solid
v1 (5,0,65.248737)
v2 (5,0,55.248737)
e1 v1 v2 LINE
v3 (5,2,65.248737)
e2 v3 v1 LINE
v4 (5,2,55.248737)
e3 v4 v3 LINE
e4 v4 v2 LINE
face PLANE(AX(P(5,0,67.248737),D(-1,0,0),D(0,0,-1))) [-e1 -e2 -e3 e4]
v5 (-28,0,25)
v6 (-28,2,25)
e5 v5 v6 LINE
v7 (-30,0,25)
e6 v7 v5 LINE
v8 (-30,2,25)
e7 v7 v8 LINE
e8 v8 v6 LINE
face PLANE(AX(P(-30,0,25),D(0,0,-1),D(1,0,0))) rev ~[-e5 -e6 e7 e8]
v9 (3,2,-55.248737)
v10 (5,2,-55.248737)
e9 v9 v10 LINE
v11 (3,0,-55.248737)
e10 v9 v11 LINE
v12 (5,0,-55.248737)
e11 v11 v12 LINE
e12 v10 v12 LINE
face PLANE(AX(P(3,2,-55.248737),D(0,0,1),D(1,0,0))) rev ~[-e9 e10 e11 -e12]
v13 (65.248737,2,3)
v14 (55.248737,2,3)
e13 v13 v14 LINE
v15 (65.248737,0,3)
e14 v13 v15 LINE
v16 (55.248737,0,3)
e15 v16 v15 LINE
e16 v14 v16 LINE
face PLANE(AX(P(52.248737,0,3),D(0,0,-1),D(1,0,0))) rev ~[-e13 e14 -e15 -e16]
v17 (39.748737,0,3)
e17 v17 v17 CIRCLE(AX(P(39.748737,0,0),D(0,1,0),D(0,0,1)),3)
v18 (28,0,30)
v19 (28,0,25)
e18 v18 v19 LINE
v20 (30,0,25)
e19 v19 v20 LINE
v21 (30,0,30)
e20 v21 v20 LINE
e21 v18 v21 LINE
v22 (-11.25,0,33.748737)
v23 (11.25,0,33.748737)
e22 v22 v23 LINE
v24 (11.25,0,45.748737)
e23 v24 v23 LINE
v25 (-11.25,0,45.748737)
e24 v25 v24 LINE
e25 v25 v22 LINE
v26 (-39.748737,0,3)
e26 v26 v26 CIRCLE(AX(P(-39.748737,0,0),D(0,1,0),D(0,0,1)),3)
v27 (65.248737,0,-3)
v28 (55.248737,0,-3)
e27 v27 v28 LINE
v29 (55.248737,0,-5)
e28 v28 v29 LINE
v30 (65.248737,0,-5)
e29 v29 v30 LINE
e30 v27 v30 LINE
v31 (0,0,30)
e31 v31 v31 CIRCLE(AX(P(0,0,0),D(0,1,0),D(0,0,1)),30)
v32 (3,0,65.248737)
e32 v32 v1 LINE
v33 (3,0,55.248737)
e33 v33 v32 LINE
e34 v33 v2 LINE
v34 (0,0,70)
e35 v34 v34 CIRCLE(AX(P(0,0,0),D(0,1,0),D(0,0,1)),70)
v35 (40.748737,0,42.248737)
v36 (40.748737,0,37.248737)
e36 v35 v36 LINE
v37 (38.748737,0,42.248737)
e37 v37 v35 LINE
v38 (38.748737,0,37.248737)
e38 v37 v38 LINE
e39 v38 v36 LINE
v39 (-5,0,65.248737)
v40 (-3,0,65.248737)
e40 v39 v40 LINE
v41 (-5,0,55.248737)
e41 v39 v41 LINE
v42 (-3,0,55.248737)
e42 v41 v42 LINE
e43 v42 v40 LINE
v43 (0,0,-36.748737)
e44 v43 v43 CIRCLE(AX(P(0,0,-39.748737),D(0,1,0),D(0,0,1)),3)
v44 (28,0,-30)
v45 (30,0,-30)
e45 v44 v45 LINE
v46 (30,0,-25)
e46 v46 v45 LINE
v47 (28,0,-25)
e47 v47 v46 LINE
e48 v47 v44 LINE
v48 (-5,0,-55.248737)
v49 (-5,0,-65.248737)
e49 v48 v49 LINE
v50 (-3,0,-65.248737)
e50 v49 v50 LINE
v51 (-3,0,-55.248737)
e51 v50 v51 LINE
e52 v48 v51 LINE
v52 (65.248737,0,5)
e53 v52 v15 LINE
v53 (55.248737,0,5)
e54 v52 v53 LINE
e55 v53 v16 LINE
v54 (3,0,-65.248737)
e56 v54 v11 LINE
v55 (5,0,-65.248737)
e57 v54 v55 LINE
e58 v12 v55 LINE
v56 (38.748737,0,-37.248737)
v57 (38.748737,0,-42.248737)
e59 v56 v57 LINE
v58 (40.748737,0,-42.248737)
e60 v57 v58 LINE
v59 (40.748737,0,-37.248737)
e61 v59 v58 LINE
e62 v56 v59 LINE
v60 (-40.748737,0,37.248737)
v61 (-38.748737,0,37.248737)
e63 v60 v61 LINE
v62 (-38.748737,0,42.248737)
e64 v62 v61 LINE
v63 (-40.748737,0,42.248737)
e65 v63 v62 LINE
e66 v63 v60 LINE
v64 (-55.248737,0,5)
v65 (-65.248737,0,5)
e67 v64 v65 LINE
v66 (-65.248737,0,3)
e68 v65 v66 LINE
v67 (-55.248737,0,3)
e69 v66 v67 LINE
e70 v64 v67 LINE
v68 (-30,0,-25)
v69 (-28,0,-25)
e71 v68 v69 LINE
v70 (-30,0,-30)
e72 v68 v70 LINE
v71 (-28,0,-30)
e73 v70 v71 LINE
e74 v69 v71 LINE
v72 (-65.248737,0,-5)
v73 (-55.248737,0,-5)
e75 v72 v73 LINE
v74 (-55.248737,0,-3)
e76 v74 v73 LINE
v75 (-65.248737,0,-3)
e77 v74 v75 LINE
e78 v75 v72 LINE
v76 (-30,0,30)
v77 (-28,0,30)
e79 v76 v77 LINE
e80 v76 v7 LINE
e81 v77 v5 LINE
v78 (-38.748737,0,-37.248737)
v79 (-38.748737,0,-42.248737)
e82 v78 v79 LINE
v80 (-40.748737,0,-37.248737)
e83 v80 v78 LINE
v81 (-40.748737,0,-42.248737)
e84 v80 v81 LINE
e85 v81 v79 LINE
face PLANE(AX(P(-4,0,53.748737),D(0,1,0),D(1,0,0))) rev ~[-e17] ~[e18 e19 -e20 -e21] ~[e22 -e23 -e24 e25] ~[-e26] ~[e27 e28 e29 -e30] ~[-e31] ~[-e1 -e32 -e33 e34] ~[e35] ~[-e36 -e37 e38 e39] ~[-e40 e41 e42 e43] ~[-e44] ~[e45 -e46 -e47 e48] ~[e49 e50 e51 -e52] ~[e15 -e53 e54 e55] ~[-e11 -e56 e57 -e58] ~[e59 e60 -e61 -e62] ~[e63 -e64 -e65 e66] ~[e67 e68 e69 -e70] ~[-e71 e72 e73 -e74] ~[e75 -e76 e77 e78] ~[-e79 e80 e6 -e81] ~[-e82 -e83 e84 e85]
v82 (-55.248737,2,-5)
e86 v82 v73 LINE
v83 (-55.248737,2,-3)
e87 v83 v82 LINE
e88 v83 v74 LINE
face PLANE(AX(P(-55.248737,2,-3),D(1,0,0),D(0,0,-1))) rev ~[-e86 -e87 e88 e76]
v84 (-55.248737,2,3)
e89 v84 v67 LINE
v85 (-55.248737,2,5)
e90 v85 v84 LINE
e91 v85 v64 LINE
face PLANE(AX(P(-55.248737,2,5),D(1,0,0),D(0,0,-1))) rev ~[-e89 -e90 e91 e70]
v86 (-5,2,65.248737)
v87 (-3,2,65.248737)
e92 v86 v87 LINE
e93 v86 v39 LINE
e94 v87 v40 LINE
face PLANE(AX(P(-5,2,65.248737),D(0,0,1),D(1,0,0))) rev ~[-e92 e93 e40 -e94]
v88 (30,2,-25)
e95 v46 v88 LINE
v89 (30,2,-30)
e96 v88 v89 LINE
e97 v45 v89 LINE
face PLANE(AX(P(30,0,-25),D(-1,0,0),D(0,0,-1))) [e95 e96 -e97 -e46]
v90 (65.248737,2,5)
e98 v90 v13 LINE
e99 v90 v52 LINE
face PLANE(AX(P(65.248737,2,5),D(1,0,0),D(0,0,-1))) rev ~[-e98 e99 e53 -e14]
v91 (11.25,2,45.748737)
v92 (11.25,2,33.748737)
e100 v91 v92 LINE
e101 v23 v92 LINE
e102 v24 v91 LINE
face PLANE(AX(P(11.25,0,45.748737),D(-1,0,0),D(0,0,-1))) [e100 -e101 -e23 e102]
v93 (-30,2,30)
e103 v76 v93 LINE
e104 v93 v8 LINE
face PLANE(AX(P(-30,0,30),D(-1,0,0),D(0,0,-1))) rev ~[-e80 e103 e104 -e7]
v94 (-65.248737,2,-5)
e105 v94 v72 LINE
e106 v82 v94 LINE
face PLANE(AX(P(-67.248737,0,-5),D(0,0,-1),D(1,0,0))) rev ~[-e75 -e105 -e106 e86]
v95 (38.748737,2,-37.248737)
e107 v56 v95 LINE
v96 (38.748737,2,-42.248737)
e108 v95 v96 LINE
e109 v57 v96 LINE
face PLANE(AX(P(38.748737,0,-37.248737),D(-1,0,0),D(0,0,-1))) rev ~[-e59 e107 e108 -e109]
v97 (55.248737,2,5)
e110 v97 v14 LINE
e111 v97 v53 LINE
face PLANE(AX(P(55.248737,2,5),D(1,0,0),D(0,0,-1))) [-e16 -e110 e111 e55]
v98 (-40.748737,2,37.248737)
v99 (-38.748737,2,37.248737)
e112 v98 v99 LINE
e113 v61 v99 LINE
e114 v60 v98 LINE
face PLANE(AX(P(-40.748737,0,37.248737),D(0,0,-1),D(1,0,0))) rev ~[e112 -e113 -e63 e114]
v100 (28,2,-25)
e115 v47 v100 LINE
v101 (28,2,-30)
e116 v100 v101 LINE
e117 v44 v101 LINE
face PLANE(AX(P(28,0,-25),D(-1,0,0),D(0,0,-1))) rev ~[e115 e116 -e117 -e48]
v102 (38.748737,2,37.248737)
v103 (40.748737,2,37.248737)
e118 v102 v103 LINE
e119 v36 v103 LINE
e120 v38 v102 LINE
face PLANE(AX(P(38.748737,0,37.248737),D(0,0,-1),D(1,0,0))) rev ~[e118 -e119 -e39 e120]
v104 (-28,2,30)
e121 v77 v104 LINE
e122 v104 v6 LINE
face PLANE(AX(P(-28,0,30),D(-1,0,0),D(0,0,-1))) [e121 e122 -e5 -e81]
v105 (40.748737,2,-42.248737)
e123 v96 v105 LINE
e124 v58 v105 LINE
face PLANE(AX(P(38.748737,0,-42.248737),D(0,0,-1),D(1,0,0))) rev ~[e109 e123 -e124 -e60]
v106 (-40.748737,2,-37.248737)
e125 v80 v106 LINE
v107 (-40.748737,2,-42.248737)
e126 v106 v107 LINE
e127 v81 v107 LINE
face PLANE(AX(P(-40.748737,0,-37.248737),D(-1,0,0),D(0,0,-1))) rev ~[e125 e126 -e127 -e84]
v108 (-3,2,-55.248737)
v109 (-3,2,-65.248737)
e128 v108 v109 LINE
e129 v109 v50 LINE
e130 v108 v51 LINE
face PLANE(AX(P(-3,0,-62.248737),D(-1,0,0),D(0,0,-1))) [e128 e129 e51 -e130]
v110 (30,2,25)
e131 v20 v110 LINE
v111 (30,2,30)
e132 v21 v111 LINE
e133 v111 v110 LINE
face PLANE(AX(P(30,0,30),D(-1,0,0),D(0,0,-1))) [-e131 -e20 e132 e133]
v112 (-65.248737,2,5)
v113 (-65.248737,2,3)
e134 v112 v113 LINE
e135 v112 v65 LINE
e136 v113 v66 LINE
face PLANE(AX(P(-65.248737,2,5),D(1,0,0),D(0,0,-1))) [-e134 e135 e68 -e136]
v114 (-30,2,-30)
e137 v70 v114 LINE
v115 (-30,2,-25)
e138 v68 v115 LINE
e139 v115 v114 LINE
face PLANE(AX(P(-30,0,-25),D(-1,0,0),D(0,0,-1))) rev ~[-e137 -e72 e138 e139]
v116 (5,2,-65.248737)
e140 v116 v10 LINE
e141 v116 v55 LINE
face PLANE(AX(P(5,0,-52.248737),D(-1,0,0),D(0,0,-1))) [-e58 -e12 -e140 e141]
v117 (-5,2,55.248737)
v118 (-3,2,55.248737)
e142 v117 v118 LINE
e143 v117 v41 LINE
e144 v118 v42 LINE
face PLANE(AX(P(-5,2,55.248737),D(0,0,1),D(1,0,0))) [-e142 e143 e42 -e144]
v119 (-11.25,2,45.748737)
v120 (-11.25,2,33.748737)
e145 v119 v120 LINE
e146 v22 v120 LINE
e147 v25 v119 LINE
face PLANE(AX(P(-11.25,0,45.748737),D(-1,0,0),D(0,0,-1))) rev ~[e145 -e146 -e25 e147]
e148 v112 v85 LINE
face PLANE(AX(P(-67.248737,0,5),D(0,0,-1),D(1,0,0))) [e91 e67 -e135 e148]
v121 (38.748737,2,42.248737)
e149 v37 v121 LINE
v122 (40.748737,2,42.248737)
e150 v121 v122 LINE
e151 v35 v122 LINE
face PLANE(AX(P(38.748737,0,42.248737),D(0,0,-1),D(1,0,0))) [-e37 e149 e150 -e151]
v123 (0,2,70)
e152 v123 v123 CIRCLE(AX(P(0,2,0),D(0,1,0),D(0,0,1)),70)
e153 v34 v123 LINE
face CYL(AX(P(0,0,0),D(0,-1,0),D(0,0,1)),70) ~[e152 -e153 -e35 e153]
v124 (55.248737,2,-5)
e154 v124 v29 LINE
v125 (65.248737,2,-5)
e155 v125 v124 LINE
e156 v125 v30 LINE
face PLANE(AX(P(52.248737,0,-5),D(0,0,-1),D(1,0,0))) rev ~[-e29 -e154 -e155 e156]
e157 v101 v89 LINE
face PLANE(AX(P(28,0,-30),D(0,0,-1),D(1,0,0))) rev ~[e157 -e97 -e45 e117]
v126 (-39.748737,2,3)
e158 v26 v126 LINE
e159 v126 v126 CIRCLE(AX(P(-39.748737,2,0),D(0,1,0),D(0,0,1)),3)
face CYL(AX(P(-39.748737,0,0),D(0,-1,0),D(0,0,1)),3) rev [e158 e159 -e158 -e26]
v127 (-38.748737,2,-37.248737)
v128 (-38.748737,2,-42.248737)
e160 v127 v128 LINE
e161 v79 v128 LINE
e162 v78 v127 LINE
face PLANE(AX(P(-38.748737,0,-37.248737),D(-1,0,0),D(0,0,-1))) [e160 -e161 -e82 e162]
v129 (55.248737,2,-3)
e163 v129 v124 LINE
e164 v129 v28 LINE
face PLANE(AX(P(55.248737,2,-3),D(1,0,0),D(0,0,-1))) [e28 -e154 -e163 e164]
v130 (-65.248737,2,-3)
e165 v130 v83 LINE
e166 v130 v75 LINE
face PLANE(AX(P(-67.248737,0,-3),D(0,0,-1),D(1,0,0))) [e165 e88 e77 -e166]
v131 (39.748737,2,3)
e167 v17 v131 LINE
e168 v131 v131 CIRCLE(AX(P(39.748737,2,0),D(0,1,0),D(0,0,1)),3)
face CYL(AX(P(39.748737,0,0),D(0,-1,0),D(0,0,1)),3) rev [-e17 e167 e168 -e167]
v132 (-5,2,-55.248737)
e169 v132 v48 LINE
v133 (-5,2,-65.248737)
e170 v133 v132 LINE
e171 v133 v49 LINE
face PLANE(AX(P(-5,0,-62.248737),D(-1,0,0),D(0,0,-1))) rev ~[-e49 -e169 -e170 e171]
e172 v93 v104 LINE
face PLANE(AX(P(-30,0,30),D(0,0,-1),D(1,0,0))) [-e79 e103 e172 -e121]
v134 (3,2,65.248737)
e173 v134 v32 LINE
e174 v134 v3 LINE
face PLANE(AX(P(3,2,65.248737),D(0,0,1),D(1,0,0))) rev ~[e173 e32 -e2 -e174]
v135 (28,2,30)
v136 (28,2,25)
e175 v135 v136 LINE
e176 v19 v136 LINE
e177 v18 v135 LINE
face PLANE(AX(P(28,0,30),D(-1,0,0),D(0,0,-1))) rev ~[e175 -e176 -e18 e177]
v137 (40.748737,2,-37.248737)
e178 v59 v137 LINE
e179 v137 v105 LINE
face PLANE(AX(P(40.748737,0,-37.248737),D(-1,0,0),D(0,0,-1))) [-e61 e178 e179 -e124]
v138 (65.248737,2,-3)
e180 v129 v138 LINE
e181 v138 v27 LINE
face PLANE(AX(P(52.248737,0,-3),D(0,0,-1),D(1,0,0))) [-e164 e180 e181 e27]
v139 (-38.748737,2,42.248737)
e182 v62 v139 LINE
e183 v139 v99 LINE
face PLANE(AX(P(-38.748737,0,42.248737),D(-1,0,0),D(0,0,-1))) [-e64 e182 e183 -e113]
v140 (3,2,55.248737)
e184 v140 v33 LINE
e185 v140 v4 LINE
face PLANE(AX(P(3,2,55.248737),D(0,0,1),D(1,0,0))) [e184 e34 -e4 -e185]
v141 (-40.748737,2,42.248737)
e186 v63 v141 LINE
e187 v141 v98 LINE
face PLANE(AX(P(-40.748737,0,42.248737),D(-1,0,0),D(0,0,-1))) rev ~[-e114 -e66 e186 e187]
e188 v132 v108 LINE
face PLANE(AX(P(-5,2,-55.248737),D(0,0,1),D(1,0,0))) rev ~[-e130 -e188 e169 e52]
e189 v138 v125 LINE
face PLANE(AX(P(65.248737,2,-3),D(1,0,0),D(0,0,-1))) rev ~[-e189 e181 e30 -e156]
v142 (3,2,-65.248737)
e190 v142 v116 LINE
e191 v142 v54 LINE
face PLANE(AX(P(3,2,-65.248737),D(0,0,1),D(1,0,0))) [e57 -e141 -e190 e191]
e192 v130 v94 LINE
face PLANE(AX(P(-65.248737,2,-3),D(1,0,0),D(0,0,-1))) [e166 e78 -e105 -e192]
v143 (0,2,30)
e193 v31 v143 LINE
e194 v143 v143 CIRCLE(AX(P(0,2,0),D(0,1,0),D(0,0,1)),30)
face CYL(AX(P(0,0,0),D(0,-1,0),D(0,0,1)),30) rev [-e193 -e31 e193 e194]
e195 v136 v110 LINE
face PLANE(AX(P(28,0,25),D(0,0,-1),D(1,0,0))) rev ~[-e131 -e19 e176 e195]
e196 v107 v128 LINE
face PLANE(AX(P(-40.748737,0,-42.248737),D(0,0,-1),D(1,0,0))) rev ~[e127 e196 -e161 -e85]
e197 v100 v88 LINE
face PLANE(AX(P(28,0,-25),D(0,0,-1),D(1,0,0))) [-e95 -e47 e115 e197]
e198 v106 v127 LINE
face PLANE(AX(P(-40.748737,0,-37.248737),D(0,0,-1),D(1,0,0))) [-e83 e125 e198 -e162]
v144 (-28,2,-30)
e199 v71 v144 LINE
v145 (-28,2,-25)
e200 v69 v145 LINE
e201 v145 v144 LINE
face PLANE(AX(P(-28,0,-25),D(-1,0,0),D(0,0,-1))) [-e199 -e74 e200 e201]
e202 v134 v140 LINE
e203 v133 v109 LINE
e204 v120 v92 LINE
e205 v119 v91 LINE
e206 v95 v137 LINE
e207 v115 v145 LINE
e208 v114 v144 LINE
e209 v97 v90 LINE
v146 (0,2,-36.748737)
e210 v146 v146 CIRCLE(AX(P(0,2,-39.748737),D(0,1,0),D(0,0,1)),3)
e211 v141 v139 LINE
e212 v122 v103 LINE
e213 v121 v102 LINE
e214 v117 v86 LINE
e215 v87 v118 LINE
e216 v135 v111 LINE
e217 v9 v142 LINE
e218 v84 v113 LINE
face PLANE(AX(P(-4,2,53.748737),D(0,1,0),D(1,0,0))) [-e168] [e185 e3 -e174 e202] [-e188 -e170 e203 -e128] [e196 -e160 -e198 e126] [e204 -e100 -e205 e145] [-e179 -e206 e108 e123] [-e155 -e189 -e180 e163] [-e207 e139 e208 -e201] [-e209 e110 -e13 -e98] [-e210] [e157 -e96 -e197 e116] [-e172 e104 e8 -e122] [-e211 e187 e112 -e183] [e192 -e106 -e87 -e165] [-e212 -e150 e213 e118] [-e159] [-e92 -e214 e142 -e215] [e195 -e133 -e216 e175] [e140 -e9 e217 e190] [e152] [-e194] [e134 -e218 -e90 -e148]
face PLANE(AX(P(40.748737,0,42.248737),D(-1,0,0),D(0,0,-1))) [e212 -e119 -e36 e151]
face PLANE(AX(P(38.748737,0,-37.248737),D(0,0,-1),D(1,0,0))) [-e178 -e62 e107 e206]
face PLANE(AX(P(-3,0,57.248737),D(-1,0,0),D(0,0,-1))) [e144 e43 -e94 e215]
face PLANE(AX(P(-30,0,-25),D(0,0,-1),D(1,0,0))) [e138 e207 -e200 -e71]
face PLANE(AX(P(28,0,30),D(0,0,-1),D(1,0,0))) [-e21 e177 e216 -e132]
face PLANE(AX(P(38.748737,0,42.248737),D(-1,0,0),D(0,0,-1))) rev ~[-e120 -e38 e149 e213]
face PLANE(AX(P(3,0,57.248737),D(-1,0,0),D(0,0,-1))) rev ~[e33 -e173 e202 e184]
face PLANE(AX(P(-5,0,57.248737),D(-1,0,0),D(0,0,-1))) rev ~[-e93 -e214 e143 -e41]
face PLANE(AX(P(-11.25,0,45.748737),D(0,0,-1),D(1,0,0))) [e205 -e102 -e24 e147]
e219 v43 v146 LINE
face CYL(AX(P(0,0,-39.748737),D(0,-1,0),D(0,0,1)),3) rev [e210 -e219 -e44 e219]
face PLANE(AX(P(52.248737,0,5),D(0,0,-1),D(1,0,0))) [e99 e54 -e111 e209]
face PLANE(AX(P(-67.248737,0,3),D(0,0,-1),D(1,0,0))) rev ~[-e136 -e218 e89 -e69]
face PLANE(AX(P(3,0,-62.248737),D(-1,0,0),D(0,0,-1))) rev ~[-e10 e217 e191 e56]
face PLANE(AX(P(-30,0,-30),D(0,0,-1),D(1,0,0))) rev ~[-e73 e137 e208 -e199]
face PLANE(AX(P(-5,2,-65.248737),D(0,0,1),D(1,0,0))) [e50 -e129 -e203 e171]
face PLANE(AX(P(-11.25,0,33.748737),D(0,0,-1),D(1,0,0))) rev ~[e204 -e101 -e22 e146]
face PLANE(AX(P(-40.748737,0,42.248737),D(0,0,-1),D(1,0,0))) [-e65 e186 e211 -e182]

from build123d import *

# Parameters (mm, degrees)
SKETCH1_R                   = 70
SKETCH1_R_2                 = 30
SKETCH1_R_3                 = 3
SKETCH1_W                   = 2
SKETCH1_H                   = 5
SKETCH1_W_2                 = 22.5
SKETCH1_H_2                 = 12
SKETCH1_W_3                 = 5
SKETCH1_H_3                 = 2
Y_KSEKLIK_EKSTR_ZYON1_DEPTH = 2
SKETCH3_W                   = 2
SKETCH3_H                   = 2
SKETCH3_W_2                 = 3
BOSS_EXTRUDE1_DEPTH         = 2
SKETCH5_W                   = 5
SKETCH5_H                   = 2
CUT_EXTRUDE1_DEPTH          = 2
SKETCH6_W                   = 2
SKETCH6_H                   = 2
SKETCH6_W_2                 = 3
BOSS_EXTRUDE3_DEPTH         = 2
SKETCH8_W                   = 5
SKETCH8_H                   = 2
CUT_EXTRUDE2_DEPTH          = 2
SKETCH9_W                   = 2
SKETCH9_H                   = 2
SKETCH9_H_2                 = 3
BOSS_EXTRUDE4_DEPTH         = 2
SKETCH10_W                  = 2
SKETCH10_H                  = 2
SKETCH10_H_2                = 3
BOSS_EXTRUDE5_DEPTH         = 2
SKETCH12_W                  = 2
SKETCH12_H                  = 5
CUT_EXTRUDE4_DEPTH          = 2
SKETCH13_W                  = 2
SKETCH13_H                  = 5
CUT_EXTRUDE5_DEPTH          = 2
SKETCH14_W                  = 3
SKETCH14_H                  = 2
SKETCH14_W_2                = 2
BOSS_EXTRUDE6_DEPTH         = 2
SKETCH15_W                  = 5
SKETCH15_H                  = 2
CUT_EXTRUDE6_DEPTH          = 2
SKETCH16_W                  = 3
SKETCH16_H                  = 2
SKETCH16_W_2                = 2
BOSS_EXTRUDE9_DEPTH         = 2
SKETCH17_W                  = 5
SKETCH17_H                  = 2
CUT_EXTRUDE7_DEPTH          = 2
SKETCH18_W                  = 2
SKETCH18_H                  = 3
SKETCH18_H_2                = 2
BOSS_EXTRUDE10_DEPTH        = 2
SKETCH19_W                  = 2
SKETCH19_H                  = 5
CUT_EXTRUDE8_DEPTH          = 2


with BuildPart() as part:
    # Sketch1 → Yükseklik-Ekstrüzyon1 (new body)
    with BuildSketch(Plane(origin=(0, 0, 0), x_dir=(1, 0, 0), z_dir=(0, 1, 0))):
        with Locations(Location((0, 0, 0), (0, 0, 270))):
            Circle(SKETCH1_R)
        with Locations(Location((0, 0, 0), (0, 0, 270))):
            Circle(SKETCH1_R_2, mode=Mode.SUBTRACT)
        with Locations(Location((39.748737342, 0, 0), (0, 0, 270))):
            Circle(SKETCH1_R_3, mode=Mode.SUBTRACT)
        with Locations(Location((-39.748737342, 0, 0), (0, 0, 270))):
            Circle(SKETCH1_R_3, mode=Mode.SUBTRACT)
        with Locations(Location((0, 39.748737342, 0), (0, 0, 270))):
            Circle(SKETCH1_R_3, mode=Mode.SUBTRACT)
        with Locations((-29, 27.5)):
            Rectangle(SKETCH1_W, SKETCH1_H, mode=Mode.SUBTRACT)
        with Locations((29, 27.5)):
            Rectangle(SKETCH1_W, SKETCH1_H, mode=Mode.SUBTRACT)
        with Locations((-29, -27.5)):
            Rectangle(SKETCH1_W, SKETCH1_H, mode=Mode.SUBTRACT)
        with Locations((29, -27.5)):
            Rectangle(SKETCH1_W, SKETCH1_H, mode=Mode.SUBTRACT)
        with Locations((-39.748737342, 39.748737342)):
            Rectangle(SKETCH1_W, SKETCH1_H, mode=Mode.SUBTRACT)
        with Locations((39.748737342, 39.748737342)):
            Rectangle(SKETCH1_W, SKETCH1_H, mode=Mode.SUBTRACT)
        with Locations((39.748737342, -39.748737342)):
            Rectangle(SKETCH1_W, SKETCH1_H, mode=Mode.SUBTRACT)
        with Locations((-39.748737342, -39.748737342)):
            Rectangle(SKETCH1_W, SKETCH1_H, mode=Mode.SUBTRACT)
        with Locations((0, -39.748737342)):
            Rectangle(SKETCH1_W_2, SKETCH1_H_2, mode=Mode.SUBTRACT)
        with Locations((-64.748737342, 4)):
            Rectangle(SKETCH1_W_3, SKETCH1_H_3, mode=Mode.SUBTRACT)
        with Locations((-64.748737342, -4)):
            Rectangle(SKETCH1_W_3, SKETCH1_H_3, mode=Mode.SUBTRACT)
        with Locations((-54.748737342, -4)):
            Rectangle(SKETCH1_W_3, SKETCH1_H_3, mode=Mode.SUBTRACT)
        with Locations((-54.748737342, 4)):
            Rectangle(SKETCH1_W_3, SKETCH1_H_3, mode=Mode.SUBTRACT)
        with Locations((-4, 64.748737342)):
            Rectangle(SKETCH1_W, SKETCH1_H, mode=Mode.SUBTRACT)
        with Locations((-4, 54.748737342)):
            Rectangle(SKETCH1_W, SKETCH1_H, mode=Mode.SUBTRACT)
        with Locations((4, 54.748737342)):
            Rectangle(SKETCH1_W, SKETCH1_H, mode=Mode.SUBTRACT)
        with Locations((4, 64.748737342)):
            Rectangle(SKETCH1_W, SKETCH1_H, mode=Mode.SUBTRACT)
        with Locations((54.748737342, 4)):
            Rectangle(SKETCH1_W_3, SKETCH1_H_3, mode=Mode.SUBTRACT)
        with Locations((54.748737342, -4)):
            Rectangle(SKETCH1_W_3, SKETCH1_H_3, mode=Mode.SUBTRACT)
        with Locations((64.748737342, 4)):
            Rectangle(SKETCH1_W_3, SKETCH1_H_3, mode=Mode.SUBTRACT)
        with Locations((64.748737342, -4)):
            Rectangle(SKETCH1_W_3, SKETCH1_H_3, mode=Mode.SUBTRACT)
        with Locations((-4, -54.748737342)):
            Rectangle(SKETCH1_W, SKETCH1_H, mode=Mode.SUBTRACT)
        with Locations((4, -54.748737342)):
            Rectangle(SKETCH1_W, SKETCH1_H, mode=Mode.SUBTRACT)
        with Locations((4, -64.748737342)):
            Rectangle(SKETCH1_W, SKETCH1_H, mode=Mode.SUBTRACT)
        with Locations((-4, -64.748737342)):
            Rectangle(SKETCH1_W, SKETCH1_H, mode=Mode.SUBTRACT)
    extrude(amount=Y_KSEKLIK_EKSTR_ZYON1_DEPTH)

    # Sketch3 → Boss-Extrude1 (add)
    with BuildSketch(Plane(origin=(0, 2, 0), x_dir=(1, 0, 0), z_dir=(0, 1, 0))):
        with Locations((-66.248737342, 4)):
            Rectangle(SKETCH3_W, SKETCH3_H)
        with Locations((-53.748737342, 4)):
            Rectangle(SKETCH3_W_2, SKETCH3_H)
    extrude(amount=-BOSS_EXTRUDE1_DEPTH)

    # Sketch5 → Cut-Extrude1 (cut)
    with BuildSketch(Plane(origin=(0, 2, 0), x_dir=(1, 0, 0), z_dir=(0, 1, 0))):
        with Locations((-59.748737342, 4)):
            Rectangle(SKETCH5_W, SKETCH5_H)
    extrude(amount=-CUT_EXTRUDE1_DEPTH, mode=Mode.SUBTRACT)

    # Sketch6 → Boss-Extrude3 (add)
    with BuildSketch(Plane(origin=(0, 2, 0), x_dir=(1, 0, 0), z_dir=(0, 1, 0))):
        with Locations((-66.248737342, -4)):
            Rectangle(SKETCH6_W, SKETCH6_H)
        with Locations((-53.748737342, -4)):
            Rectangle(SKETCH6_W_2, SKETCH6_H)
    extrude(amount=-BOSS_EXTRUDE3_DEPTH)

    # Sketch8 → Cut-Extrude2 (cut)
    with BuildSketch(Plane(origin=(0, 2, 0), x_dir=(1, 0, 0), z_dir=(0, 1, 0))):
        with Locations((-59.748737342, -4)):
            Rectangle(SKETCH8_W, SKETCH8_H)
    extrude(amount=-CUT_EXTRUDE2_DEPTH, mode=Mode.SUBTRACT)

    # Sketch9 → Boss-Extrude4 (add)
    with BuildSketch(Plane(origin=(0, 2, 0), x_dir=(1, 0, 0), z_dir=(0, 1, 0))):
        with Locations((4, 66.248737342)):
            Rectangle(SKETCH9_W, SKETCH9_H)
        with Locations((4, 53.748737342)):
            Rectangle(SKETCH9_W, SKETCH9_H_2)
    extrude(amount=-BOSS_EXTRUDE4_DEPTH)

    # Sketch10 → Boss-Extrude5 (add)
    with BuildSketch(Plane(origin=(0, 2, 0), x_dir=(1, 0, 0), z_dir=(0, 1, 0))):
        with Locations((-4, 66.248737342)):
            Rectangle(SKETCH10_W, SKETCH10_H)
        with Locations((-4, 53.748737342)):
            Rectangle(SKETCH10_W, SKETCH10_H_2)
    extrude(amount=-BOSS_EXTRUDE5_DEPTH)

    # Sketch12 → Cut-Extrude4 (cut)
    with BuildSketch(Plane(origin=(0, 2, 0), x_dir=(1, 0, 0), z_dir=(0, 1, 0))):
        with Locations((-4, 59.748737342)):
            Rectangle(SKETCH12_W, SKETCH12_H)
    extrude(amount=-CUT_EXTRUDE4_DEPTH, mode=Mode.SUBTRACT)

    # Sketch13 → Cut-Extrude5 (cut)
    with BuildSketch(Plane(origin=(0, 2, 0), x_dir=(1, 0, 0), z_dir=(0, 1, 0))):
        with Locations((4, 59.748737342)):
            Rectangle(SKETCH13_W, SKETCH13_H)
    extrude(amount=-CUT_EXTRUDE5_DEPTH, mode=Mode.SUBTRACT)

    # Sketch14 → Boss-Extrude6 (add)
    with BuildSketch(Plane(origin=(0, 2, 0), x_dir=(1, 0, 0), z_dir=(0, 1, 0))):
        with Locations((53.748737342, 4)):
            Rectangle(SKETCH14_W, SKETCH14_H)
        with Locations((66.248737342, 4)):
            Rectangle(SKETCH14_W_2, SKETCH14_H)
    extrude(amount=-BOSS_EXTRUDE6_DEPTH)

    # Sketch15 → Cut-Extrude6 (cut)
    with BuildSketch(Plane(origin=(0, 2, 0), x_dir=(1, 0, 0), z_dir=(0, 1, 0))):
        with Locations((59.748737342, 4)):
            Rectangle(SKETCH15_W, SKETCH15_H)
    extrude(amount=-CUT_EXTRUDE6_DEPTH, mode=Mode.SUBTRACT)

    # Sketch16 → Boss-Extrude9 (add)
    with BuildSketch(Plane(origin=(0, 2, 0), x_dir=(1, 0, 0), z_dir=(0, 1, 0))):
        with Locations((53.748737342, -4)):
            Rectangle(SKETCH16_W, SKETCH16_H)
        with Locations((66.248737342, -4)):
            Rectangle(SKETCH16_W_2, SKETCH16_H)
    extrude(amount=-BOSS_EXTRUDE9_DEPTH)

    # Sketch17 → Cut-Extrude7 (cut)
    with BuildSketch(Plane(origin=(0, 2, 0), x_dir=(1, 0, 0), z_dir=(0, 1, 0))):
        with Locations((59.748737342, -4)):
            Rectangle(SKETCH17_W, SKETCH17_H)
    extrude(amount=-CUT_EXTRUDE7_DEPTH, mode=Mode.SUBTRACT)

    # Sketch18 → Boss-Extrude10 (add)
    with BuildSketch(Plane(origin=(0, 2, 0), x_dir=(1, 0, 0), z_dir=(0, 1, 0))):
        with Locations((-4, -53.748737342)):
            Rectangle(SKETCH18_W, SKETCH18_H)
        with Locations((-4, -66.248737342)):
            Rectangle(SKETCH18_W, SKETCH18_H_2)
        with Locations((4, -66.248737342)):
            Rectangle(SKETCH18_W, SKETCH18_H_2)
        with Locations((4, -53.748737342)):
            Rectangle(SKETCH18_W, SKETCH18_H)
    extrude(amount=-BOSS_EXTRUDE10_DEPTH)

    # Sketch19 → Cut-Extrude8 (cut)
    with BuildSketch(Plane(origin=(0, 2, 0), x_dir=(1, 0, 0), z_dir=(0, 1, 0))):
        with Locations((4, -59.748737342)):
            Rectangle(SKETCH19_W, SKETCH19_H)
        with Locations((-4, -59.748737342)):
            Rectangle(SKETCH19_W, SKETCH19_H)
    extrude(amount=-CUT_EXTRUDE8_DEPTH, mode=Mode.SUBTRACT)


solid = part.part
